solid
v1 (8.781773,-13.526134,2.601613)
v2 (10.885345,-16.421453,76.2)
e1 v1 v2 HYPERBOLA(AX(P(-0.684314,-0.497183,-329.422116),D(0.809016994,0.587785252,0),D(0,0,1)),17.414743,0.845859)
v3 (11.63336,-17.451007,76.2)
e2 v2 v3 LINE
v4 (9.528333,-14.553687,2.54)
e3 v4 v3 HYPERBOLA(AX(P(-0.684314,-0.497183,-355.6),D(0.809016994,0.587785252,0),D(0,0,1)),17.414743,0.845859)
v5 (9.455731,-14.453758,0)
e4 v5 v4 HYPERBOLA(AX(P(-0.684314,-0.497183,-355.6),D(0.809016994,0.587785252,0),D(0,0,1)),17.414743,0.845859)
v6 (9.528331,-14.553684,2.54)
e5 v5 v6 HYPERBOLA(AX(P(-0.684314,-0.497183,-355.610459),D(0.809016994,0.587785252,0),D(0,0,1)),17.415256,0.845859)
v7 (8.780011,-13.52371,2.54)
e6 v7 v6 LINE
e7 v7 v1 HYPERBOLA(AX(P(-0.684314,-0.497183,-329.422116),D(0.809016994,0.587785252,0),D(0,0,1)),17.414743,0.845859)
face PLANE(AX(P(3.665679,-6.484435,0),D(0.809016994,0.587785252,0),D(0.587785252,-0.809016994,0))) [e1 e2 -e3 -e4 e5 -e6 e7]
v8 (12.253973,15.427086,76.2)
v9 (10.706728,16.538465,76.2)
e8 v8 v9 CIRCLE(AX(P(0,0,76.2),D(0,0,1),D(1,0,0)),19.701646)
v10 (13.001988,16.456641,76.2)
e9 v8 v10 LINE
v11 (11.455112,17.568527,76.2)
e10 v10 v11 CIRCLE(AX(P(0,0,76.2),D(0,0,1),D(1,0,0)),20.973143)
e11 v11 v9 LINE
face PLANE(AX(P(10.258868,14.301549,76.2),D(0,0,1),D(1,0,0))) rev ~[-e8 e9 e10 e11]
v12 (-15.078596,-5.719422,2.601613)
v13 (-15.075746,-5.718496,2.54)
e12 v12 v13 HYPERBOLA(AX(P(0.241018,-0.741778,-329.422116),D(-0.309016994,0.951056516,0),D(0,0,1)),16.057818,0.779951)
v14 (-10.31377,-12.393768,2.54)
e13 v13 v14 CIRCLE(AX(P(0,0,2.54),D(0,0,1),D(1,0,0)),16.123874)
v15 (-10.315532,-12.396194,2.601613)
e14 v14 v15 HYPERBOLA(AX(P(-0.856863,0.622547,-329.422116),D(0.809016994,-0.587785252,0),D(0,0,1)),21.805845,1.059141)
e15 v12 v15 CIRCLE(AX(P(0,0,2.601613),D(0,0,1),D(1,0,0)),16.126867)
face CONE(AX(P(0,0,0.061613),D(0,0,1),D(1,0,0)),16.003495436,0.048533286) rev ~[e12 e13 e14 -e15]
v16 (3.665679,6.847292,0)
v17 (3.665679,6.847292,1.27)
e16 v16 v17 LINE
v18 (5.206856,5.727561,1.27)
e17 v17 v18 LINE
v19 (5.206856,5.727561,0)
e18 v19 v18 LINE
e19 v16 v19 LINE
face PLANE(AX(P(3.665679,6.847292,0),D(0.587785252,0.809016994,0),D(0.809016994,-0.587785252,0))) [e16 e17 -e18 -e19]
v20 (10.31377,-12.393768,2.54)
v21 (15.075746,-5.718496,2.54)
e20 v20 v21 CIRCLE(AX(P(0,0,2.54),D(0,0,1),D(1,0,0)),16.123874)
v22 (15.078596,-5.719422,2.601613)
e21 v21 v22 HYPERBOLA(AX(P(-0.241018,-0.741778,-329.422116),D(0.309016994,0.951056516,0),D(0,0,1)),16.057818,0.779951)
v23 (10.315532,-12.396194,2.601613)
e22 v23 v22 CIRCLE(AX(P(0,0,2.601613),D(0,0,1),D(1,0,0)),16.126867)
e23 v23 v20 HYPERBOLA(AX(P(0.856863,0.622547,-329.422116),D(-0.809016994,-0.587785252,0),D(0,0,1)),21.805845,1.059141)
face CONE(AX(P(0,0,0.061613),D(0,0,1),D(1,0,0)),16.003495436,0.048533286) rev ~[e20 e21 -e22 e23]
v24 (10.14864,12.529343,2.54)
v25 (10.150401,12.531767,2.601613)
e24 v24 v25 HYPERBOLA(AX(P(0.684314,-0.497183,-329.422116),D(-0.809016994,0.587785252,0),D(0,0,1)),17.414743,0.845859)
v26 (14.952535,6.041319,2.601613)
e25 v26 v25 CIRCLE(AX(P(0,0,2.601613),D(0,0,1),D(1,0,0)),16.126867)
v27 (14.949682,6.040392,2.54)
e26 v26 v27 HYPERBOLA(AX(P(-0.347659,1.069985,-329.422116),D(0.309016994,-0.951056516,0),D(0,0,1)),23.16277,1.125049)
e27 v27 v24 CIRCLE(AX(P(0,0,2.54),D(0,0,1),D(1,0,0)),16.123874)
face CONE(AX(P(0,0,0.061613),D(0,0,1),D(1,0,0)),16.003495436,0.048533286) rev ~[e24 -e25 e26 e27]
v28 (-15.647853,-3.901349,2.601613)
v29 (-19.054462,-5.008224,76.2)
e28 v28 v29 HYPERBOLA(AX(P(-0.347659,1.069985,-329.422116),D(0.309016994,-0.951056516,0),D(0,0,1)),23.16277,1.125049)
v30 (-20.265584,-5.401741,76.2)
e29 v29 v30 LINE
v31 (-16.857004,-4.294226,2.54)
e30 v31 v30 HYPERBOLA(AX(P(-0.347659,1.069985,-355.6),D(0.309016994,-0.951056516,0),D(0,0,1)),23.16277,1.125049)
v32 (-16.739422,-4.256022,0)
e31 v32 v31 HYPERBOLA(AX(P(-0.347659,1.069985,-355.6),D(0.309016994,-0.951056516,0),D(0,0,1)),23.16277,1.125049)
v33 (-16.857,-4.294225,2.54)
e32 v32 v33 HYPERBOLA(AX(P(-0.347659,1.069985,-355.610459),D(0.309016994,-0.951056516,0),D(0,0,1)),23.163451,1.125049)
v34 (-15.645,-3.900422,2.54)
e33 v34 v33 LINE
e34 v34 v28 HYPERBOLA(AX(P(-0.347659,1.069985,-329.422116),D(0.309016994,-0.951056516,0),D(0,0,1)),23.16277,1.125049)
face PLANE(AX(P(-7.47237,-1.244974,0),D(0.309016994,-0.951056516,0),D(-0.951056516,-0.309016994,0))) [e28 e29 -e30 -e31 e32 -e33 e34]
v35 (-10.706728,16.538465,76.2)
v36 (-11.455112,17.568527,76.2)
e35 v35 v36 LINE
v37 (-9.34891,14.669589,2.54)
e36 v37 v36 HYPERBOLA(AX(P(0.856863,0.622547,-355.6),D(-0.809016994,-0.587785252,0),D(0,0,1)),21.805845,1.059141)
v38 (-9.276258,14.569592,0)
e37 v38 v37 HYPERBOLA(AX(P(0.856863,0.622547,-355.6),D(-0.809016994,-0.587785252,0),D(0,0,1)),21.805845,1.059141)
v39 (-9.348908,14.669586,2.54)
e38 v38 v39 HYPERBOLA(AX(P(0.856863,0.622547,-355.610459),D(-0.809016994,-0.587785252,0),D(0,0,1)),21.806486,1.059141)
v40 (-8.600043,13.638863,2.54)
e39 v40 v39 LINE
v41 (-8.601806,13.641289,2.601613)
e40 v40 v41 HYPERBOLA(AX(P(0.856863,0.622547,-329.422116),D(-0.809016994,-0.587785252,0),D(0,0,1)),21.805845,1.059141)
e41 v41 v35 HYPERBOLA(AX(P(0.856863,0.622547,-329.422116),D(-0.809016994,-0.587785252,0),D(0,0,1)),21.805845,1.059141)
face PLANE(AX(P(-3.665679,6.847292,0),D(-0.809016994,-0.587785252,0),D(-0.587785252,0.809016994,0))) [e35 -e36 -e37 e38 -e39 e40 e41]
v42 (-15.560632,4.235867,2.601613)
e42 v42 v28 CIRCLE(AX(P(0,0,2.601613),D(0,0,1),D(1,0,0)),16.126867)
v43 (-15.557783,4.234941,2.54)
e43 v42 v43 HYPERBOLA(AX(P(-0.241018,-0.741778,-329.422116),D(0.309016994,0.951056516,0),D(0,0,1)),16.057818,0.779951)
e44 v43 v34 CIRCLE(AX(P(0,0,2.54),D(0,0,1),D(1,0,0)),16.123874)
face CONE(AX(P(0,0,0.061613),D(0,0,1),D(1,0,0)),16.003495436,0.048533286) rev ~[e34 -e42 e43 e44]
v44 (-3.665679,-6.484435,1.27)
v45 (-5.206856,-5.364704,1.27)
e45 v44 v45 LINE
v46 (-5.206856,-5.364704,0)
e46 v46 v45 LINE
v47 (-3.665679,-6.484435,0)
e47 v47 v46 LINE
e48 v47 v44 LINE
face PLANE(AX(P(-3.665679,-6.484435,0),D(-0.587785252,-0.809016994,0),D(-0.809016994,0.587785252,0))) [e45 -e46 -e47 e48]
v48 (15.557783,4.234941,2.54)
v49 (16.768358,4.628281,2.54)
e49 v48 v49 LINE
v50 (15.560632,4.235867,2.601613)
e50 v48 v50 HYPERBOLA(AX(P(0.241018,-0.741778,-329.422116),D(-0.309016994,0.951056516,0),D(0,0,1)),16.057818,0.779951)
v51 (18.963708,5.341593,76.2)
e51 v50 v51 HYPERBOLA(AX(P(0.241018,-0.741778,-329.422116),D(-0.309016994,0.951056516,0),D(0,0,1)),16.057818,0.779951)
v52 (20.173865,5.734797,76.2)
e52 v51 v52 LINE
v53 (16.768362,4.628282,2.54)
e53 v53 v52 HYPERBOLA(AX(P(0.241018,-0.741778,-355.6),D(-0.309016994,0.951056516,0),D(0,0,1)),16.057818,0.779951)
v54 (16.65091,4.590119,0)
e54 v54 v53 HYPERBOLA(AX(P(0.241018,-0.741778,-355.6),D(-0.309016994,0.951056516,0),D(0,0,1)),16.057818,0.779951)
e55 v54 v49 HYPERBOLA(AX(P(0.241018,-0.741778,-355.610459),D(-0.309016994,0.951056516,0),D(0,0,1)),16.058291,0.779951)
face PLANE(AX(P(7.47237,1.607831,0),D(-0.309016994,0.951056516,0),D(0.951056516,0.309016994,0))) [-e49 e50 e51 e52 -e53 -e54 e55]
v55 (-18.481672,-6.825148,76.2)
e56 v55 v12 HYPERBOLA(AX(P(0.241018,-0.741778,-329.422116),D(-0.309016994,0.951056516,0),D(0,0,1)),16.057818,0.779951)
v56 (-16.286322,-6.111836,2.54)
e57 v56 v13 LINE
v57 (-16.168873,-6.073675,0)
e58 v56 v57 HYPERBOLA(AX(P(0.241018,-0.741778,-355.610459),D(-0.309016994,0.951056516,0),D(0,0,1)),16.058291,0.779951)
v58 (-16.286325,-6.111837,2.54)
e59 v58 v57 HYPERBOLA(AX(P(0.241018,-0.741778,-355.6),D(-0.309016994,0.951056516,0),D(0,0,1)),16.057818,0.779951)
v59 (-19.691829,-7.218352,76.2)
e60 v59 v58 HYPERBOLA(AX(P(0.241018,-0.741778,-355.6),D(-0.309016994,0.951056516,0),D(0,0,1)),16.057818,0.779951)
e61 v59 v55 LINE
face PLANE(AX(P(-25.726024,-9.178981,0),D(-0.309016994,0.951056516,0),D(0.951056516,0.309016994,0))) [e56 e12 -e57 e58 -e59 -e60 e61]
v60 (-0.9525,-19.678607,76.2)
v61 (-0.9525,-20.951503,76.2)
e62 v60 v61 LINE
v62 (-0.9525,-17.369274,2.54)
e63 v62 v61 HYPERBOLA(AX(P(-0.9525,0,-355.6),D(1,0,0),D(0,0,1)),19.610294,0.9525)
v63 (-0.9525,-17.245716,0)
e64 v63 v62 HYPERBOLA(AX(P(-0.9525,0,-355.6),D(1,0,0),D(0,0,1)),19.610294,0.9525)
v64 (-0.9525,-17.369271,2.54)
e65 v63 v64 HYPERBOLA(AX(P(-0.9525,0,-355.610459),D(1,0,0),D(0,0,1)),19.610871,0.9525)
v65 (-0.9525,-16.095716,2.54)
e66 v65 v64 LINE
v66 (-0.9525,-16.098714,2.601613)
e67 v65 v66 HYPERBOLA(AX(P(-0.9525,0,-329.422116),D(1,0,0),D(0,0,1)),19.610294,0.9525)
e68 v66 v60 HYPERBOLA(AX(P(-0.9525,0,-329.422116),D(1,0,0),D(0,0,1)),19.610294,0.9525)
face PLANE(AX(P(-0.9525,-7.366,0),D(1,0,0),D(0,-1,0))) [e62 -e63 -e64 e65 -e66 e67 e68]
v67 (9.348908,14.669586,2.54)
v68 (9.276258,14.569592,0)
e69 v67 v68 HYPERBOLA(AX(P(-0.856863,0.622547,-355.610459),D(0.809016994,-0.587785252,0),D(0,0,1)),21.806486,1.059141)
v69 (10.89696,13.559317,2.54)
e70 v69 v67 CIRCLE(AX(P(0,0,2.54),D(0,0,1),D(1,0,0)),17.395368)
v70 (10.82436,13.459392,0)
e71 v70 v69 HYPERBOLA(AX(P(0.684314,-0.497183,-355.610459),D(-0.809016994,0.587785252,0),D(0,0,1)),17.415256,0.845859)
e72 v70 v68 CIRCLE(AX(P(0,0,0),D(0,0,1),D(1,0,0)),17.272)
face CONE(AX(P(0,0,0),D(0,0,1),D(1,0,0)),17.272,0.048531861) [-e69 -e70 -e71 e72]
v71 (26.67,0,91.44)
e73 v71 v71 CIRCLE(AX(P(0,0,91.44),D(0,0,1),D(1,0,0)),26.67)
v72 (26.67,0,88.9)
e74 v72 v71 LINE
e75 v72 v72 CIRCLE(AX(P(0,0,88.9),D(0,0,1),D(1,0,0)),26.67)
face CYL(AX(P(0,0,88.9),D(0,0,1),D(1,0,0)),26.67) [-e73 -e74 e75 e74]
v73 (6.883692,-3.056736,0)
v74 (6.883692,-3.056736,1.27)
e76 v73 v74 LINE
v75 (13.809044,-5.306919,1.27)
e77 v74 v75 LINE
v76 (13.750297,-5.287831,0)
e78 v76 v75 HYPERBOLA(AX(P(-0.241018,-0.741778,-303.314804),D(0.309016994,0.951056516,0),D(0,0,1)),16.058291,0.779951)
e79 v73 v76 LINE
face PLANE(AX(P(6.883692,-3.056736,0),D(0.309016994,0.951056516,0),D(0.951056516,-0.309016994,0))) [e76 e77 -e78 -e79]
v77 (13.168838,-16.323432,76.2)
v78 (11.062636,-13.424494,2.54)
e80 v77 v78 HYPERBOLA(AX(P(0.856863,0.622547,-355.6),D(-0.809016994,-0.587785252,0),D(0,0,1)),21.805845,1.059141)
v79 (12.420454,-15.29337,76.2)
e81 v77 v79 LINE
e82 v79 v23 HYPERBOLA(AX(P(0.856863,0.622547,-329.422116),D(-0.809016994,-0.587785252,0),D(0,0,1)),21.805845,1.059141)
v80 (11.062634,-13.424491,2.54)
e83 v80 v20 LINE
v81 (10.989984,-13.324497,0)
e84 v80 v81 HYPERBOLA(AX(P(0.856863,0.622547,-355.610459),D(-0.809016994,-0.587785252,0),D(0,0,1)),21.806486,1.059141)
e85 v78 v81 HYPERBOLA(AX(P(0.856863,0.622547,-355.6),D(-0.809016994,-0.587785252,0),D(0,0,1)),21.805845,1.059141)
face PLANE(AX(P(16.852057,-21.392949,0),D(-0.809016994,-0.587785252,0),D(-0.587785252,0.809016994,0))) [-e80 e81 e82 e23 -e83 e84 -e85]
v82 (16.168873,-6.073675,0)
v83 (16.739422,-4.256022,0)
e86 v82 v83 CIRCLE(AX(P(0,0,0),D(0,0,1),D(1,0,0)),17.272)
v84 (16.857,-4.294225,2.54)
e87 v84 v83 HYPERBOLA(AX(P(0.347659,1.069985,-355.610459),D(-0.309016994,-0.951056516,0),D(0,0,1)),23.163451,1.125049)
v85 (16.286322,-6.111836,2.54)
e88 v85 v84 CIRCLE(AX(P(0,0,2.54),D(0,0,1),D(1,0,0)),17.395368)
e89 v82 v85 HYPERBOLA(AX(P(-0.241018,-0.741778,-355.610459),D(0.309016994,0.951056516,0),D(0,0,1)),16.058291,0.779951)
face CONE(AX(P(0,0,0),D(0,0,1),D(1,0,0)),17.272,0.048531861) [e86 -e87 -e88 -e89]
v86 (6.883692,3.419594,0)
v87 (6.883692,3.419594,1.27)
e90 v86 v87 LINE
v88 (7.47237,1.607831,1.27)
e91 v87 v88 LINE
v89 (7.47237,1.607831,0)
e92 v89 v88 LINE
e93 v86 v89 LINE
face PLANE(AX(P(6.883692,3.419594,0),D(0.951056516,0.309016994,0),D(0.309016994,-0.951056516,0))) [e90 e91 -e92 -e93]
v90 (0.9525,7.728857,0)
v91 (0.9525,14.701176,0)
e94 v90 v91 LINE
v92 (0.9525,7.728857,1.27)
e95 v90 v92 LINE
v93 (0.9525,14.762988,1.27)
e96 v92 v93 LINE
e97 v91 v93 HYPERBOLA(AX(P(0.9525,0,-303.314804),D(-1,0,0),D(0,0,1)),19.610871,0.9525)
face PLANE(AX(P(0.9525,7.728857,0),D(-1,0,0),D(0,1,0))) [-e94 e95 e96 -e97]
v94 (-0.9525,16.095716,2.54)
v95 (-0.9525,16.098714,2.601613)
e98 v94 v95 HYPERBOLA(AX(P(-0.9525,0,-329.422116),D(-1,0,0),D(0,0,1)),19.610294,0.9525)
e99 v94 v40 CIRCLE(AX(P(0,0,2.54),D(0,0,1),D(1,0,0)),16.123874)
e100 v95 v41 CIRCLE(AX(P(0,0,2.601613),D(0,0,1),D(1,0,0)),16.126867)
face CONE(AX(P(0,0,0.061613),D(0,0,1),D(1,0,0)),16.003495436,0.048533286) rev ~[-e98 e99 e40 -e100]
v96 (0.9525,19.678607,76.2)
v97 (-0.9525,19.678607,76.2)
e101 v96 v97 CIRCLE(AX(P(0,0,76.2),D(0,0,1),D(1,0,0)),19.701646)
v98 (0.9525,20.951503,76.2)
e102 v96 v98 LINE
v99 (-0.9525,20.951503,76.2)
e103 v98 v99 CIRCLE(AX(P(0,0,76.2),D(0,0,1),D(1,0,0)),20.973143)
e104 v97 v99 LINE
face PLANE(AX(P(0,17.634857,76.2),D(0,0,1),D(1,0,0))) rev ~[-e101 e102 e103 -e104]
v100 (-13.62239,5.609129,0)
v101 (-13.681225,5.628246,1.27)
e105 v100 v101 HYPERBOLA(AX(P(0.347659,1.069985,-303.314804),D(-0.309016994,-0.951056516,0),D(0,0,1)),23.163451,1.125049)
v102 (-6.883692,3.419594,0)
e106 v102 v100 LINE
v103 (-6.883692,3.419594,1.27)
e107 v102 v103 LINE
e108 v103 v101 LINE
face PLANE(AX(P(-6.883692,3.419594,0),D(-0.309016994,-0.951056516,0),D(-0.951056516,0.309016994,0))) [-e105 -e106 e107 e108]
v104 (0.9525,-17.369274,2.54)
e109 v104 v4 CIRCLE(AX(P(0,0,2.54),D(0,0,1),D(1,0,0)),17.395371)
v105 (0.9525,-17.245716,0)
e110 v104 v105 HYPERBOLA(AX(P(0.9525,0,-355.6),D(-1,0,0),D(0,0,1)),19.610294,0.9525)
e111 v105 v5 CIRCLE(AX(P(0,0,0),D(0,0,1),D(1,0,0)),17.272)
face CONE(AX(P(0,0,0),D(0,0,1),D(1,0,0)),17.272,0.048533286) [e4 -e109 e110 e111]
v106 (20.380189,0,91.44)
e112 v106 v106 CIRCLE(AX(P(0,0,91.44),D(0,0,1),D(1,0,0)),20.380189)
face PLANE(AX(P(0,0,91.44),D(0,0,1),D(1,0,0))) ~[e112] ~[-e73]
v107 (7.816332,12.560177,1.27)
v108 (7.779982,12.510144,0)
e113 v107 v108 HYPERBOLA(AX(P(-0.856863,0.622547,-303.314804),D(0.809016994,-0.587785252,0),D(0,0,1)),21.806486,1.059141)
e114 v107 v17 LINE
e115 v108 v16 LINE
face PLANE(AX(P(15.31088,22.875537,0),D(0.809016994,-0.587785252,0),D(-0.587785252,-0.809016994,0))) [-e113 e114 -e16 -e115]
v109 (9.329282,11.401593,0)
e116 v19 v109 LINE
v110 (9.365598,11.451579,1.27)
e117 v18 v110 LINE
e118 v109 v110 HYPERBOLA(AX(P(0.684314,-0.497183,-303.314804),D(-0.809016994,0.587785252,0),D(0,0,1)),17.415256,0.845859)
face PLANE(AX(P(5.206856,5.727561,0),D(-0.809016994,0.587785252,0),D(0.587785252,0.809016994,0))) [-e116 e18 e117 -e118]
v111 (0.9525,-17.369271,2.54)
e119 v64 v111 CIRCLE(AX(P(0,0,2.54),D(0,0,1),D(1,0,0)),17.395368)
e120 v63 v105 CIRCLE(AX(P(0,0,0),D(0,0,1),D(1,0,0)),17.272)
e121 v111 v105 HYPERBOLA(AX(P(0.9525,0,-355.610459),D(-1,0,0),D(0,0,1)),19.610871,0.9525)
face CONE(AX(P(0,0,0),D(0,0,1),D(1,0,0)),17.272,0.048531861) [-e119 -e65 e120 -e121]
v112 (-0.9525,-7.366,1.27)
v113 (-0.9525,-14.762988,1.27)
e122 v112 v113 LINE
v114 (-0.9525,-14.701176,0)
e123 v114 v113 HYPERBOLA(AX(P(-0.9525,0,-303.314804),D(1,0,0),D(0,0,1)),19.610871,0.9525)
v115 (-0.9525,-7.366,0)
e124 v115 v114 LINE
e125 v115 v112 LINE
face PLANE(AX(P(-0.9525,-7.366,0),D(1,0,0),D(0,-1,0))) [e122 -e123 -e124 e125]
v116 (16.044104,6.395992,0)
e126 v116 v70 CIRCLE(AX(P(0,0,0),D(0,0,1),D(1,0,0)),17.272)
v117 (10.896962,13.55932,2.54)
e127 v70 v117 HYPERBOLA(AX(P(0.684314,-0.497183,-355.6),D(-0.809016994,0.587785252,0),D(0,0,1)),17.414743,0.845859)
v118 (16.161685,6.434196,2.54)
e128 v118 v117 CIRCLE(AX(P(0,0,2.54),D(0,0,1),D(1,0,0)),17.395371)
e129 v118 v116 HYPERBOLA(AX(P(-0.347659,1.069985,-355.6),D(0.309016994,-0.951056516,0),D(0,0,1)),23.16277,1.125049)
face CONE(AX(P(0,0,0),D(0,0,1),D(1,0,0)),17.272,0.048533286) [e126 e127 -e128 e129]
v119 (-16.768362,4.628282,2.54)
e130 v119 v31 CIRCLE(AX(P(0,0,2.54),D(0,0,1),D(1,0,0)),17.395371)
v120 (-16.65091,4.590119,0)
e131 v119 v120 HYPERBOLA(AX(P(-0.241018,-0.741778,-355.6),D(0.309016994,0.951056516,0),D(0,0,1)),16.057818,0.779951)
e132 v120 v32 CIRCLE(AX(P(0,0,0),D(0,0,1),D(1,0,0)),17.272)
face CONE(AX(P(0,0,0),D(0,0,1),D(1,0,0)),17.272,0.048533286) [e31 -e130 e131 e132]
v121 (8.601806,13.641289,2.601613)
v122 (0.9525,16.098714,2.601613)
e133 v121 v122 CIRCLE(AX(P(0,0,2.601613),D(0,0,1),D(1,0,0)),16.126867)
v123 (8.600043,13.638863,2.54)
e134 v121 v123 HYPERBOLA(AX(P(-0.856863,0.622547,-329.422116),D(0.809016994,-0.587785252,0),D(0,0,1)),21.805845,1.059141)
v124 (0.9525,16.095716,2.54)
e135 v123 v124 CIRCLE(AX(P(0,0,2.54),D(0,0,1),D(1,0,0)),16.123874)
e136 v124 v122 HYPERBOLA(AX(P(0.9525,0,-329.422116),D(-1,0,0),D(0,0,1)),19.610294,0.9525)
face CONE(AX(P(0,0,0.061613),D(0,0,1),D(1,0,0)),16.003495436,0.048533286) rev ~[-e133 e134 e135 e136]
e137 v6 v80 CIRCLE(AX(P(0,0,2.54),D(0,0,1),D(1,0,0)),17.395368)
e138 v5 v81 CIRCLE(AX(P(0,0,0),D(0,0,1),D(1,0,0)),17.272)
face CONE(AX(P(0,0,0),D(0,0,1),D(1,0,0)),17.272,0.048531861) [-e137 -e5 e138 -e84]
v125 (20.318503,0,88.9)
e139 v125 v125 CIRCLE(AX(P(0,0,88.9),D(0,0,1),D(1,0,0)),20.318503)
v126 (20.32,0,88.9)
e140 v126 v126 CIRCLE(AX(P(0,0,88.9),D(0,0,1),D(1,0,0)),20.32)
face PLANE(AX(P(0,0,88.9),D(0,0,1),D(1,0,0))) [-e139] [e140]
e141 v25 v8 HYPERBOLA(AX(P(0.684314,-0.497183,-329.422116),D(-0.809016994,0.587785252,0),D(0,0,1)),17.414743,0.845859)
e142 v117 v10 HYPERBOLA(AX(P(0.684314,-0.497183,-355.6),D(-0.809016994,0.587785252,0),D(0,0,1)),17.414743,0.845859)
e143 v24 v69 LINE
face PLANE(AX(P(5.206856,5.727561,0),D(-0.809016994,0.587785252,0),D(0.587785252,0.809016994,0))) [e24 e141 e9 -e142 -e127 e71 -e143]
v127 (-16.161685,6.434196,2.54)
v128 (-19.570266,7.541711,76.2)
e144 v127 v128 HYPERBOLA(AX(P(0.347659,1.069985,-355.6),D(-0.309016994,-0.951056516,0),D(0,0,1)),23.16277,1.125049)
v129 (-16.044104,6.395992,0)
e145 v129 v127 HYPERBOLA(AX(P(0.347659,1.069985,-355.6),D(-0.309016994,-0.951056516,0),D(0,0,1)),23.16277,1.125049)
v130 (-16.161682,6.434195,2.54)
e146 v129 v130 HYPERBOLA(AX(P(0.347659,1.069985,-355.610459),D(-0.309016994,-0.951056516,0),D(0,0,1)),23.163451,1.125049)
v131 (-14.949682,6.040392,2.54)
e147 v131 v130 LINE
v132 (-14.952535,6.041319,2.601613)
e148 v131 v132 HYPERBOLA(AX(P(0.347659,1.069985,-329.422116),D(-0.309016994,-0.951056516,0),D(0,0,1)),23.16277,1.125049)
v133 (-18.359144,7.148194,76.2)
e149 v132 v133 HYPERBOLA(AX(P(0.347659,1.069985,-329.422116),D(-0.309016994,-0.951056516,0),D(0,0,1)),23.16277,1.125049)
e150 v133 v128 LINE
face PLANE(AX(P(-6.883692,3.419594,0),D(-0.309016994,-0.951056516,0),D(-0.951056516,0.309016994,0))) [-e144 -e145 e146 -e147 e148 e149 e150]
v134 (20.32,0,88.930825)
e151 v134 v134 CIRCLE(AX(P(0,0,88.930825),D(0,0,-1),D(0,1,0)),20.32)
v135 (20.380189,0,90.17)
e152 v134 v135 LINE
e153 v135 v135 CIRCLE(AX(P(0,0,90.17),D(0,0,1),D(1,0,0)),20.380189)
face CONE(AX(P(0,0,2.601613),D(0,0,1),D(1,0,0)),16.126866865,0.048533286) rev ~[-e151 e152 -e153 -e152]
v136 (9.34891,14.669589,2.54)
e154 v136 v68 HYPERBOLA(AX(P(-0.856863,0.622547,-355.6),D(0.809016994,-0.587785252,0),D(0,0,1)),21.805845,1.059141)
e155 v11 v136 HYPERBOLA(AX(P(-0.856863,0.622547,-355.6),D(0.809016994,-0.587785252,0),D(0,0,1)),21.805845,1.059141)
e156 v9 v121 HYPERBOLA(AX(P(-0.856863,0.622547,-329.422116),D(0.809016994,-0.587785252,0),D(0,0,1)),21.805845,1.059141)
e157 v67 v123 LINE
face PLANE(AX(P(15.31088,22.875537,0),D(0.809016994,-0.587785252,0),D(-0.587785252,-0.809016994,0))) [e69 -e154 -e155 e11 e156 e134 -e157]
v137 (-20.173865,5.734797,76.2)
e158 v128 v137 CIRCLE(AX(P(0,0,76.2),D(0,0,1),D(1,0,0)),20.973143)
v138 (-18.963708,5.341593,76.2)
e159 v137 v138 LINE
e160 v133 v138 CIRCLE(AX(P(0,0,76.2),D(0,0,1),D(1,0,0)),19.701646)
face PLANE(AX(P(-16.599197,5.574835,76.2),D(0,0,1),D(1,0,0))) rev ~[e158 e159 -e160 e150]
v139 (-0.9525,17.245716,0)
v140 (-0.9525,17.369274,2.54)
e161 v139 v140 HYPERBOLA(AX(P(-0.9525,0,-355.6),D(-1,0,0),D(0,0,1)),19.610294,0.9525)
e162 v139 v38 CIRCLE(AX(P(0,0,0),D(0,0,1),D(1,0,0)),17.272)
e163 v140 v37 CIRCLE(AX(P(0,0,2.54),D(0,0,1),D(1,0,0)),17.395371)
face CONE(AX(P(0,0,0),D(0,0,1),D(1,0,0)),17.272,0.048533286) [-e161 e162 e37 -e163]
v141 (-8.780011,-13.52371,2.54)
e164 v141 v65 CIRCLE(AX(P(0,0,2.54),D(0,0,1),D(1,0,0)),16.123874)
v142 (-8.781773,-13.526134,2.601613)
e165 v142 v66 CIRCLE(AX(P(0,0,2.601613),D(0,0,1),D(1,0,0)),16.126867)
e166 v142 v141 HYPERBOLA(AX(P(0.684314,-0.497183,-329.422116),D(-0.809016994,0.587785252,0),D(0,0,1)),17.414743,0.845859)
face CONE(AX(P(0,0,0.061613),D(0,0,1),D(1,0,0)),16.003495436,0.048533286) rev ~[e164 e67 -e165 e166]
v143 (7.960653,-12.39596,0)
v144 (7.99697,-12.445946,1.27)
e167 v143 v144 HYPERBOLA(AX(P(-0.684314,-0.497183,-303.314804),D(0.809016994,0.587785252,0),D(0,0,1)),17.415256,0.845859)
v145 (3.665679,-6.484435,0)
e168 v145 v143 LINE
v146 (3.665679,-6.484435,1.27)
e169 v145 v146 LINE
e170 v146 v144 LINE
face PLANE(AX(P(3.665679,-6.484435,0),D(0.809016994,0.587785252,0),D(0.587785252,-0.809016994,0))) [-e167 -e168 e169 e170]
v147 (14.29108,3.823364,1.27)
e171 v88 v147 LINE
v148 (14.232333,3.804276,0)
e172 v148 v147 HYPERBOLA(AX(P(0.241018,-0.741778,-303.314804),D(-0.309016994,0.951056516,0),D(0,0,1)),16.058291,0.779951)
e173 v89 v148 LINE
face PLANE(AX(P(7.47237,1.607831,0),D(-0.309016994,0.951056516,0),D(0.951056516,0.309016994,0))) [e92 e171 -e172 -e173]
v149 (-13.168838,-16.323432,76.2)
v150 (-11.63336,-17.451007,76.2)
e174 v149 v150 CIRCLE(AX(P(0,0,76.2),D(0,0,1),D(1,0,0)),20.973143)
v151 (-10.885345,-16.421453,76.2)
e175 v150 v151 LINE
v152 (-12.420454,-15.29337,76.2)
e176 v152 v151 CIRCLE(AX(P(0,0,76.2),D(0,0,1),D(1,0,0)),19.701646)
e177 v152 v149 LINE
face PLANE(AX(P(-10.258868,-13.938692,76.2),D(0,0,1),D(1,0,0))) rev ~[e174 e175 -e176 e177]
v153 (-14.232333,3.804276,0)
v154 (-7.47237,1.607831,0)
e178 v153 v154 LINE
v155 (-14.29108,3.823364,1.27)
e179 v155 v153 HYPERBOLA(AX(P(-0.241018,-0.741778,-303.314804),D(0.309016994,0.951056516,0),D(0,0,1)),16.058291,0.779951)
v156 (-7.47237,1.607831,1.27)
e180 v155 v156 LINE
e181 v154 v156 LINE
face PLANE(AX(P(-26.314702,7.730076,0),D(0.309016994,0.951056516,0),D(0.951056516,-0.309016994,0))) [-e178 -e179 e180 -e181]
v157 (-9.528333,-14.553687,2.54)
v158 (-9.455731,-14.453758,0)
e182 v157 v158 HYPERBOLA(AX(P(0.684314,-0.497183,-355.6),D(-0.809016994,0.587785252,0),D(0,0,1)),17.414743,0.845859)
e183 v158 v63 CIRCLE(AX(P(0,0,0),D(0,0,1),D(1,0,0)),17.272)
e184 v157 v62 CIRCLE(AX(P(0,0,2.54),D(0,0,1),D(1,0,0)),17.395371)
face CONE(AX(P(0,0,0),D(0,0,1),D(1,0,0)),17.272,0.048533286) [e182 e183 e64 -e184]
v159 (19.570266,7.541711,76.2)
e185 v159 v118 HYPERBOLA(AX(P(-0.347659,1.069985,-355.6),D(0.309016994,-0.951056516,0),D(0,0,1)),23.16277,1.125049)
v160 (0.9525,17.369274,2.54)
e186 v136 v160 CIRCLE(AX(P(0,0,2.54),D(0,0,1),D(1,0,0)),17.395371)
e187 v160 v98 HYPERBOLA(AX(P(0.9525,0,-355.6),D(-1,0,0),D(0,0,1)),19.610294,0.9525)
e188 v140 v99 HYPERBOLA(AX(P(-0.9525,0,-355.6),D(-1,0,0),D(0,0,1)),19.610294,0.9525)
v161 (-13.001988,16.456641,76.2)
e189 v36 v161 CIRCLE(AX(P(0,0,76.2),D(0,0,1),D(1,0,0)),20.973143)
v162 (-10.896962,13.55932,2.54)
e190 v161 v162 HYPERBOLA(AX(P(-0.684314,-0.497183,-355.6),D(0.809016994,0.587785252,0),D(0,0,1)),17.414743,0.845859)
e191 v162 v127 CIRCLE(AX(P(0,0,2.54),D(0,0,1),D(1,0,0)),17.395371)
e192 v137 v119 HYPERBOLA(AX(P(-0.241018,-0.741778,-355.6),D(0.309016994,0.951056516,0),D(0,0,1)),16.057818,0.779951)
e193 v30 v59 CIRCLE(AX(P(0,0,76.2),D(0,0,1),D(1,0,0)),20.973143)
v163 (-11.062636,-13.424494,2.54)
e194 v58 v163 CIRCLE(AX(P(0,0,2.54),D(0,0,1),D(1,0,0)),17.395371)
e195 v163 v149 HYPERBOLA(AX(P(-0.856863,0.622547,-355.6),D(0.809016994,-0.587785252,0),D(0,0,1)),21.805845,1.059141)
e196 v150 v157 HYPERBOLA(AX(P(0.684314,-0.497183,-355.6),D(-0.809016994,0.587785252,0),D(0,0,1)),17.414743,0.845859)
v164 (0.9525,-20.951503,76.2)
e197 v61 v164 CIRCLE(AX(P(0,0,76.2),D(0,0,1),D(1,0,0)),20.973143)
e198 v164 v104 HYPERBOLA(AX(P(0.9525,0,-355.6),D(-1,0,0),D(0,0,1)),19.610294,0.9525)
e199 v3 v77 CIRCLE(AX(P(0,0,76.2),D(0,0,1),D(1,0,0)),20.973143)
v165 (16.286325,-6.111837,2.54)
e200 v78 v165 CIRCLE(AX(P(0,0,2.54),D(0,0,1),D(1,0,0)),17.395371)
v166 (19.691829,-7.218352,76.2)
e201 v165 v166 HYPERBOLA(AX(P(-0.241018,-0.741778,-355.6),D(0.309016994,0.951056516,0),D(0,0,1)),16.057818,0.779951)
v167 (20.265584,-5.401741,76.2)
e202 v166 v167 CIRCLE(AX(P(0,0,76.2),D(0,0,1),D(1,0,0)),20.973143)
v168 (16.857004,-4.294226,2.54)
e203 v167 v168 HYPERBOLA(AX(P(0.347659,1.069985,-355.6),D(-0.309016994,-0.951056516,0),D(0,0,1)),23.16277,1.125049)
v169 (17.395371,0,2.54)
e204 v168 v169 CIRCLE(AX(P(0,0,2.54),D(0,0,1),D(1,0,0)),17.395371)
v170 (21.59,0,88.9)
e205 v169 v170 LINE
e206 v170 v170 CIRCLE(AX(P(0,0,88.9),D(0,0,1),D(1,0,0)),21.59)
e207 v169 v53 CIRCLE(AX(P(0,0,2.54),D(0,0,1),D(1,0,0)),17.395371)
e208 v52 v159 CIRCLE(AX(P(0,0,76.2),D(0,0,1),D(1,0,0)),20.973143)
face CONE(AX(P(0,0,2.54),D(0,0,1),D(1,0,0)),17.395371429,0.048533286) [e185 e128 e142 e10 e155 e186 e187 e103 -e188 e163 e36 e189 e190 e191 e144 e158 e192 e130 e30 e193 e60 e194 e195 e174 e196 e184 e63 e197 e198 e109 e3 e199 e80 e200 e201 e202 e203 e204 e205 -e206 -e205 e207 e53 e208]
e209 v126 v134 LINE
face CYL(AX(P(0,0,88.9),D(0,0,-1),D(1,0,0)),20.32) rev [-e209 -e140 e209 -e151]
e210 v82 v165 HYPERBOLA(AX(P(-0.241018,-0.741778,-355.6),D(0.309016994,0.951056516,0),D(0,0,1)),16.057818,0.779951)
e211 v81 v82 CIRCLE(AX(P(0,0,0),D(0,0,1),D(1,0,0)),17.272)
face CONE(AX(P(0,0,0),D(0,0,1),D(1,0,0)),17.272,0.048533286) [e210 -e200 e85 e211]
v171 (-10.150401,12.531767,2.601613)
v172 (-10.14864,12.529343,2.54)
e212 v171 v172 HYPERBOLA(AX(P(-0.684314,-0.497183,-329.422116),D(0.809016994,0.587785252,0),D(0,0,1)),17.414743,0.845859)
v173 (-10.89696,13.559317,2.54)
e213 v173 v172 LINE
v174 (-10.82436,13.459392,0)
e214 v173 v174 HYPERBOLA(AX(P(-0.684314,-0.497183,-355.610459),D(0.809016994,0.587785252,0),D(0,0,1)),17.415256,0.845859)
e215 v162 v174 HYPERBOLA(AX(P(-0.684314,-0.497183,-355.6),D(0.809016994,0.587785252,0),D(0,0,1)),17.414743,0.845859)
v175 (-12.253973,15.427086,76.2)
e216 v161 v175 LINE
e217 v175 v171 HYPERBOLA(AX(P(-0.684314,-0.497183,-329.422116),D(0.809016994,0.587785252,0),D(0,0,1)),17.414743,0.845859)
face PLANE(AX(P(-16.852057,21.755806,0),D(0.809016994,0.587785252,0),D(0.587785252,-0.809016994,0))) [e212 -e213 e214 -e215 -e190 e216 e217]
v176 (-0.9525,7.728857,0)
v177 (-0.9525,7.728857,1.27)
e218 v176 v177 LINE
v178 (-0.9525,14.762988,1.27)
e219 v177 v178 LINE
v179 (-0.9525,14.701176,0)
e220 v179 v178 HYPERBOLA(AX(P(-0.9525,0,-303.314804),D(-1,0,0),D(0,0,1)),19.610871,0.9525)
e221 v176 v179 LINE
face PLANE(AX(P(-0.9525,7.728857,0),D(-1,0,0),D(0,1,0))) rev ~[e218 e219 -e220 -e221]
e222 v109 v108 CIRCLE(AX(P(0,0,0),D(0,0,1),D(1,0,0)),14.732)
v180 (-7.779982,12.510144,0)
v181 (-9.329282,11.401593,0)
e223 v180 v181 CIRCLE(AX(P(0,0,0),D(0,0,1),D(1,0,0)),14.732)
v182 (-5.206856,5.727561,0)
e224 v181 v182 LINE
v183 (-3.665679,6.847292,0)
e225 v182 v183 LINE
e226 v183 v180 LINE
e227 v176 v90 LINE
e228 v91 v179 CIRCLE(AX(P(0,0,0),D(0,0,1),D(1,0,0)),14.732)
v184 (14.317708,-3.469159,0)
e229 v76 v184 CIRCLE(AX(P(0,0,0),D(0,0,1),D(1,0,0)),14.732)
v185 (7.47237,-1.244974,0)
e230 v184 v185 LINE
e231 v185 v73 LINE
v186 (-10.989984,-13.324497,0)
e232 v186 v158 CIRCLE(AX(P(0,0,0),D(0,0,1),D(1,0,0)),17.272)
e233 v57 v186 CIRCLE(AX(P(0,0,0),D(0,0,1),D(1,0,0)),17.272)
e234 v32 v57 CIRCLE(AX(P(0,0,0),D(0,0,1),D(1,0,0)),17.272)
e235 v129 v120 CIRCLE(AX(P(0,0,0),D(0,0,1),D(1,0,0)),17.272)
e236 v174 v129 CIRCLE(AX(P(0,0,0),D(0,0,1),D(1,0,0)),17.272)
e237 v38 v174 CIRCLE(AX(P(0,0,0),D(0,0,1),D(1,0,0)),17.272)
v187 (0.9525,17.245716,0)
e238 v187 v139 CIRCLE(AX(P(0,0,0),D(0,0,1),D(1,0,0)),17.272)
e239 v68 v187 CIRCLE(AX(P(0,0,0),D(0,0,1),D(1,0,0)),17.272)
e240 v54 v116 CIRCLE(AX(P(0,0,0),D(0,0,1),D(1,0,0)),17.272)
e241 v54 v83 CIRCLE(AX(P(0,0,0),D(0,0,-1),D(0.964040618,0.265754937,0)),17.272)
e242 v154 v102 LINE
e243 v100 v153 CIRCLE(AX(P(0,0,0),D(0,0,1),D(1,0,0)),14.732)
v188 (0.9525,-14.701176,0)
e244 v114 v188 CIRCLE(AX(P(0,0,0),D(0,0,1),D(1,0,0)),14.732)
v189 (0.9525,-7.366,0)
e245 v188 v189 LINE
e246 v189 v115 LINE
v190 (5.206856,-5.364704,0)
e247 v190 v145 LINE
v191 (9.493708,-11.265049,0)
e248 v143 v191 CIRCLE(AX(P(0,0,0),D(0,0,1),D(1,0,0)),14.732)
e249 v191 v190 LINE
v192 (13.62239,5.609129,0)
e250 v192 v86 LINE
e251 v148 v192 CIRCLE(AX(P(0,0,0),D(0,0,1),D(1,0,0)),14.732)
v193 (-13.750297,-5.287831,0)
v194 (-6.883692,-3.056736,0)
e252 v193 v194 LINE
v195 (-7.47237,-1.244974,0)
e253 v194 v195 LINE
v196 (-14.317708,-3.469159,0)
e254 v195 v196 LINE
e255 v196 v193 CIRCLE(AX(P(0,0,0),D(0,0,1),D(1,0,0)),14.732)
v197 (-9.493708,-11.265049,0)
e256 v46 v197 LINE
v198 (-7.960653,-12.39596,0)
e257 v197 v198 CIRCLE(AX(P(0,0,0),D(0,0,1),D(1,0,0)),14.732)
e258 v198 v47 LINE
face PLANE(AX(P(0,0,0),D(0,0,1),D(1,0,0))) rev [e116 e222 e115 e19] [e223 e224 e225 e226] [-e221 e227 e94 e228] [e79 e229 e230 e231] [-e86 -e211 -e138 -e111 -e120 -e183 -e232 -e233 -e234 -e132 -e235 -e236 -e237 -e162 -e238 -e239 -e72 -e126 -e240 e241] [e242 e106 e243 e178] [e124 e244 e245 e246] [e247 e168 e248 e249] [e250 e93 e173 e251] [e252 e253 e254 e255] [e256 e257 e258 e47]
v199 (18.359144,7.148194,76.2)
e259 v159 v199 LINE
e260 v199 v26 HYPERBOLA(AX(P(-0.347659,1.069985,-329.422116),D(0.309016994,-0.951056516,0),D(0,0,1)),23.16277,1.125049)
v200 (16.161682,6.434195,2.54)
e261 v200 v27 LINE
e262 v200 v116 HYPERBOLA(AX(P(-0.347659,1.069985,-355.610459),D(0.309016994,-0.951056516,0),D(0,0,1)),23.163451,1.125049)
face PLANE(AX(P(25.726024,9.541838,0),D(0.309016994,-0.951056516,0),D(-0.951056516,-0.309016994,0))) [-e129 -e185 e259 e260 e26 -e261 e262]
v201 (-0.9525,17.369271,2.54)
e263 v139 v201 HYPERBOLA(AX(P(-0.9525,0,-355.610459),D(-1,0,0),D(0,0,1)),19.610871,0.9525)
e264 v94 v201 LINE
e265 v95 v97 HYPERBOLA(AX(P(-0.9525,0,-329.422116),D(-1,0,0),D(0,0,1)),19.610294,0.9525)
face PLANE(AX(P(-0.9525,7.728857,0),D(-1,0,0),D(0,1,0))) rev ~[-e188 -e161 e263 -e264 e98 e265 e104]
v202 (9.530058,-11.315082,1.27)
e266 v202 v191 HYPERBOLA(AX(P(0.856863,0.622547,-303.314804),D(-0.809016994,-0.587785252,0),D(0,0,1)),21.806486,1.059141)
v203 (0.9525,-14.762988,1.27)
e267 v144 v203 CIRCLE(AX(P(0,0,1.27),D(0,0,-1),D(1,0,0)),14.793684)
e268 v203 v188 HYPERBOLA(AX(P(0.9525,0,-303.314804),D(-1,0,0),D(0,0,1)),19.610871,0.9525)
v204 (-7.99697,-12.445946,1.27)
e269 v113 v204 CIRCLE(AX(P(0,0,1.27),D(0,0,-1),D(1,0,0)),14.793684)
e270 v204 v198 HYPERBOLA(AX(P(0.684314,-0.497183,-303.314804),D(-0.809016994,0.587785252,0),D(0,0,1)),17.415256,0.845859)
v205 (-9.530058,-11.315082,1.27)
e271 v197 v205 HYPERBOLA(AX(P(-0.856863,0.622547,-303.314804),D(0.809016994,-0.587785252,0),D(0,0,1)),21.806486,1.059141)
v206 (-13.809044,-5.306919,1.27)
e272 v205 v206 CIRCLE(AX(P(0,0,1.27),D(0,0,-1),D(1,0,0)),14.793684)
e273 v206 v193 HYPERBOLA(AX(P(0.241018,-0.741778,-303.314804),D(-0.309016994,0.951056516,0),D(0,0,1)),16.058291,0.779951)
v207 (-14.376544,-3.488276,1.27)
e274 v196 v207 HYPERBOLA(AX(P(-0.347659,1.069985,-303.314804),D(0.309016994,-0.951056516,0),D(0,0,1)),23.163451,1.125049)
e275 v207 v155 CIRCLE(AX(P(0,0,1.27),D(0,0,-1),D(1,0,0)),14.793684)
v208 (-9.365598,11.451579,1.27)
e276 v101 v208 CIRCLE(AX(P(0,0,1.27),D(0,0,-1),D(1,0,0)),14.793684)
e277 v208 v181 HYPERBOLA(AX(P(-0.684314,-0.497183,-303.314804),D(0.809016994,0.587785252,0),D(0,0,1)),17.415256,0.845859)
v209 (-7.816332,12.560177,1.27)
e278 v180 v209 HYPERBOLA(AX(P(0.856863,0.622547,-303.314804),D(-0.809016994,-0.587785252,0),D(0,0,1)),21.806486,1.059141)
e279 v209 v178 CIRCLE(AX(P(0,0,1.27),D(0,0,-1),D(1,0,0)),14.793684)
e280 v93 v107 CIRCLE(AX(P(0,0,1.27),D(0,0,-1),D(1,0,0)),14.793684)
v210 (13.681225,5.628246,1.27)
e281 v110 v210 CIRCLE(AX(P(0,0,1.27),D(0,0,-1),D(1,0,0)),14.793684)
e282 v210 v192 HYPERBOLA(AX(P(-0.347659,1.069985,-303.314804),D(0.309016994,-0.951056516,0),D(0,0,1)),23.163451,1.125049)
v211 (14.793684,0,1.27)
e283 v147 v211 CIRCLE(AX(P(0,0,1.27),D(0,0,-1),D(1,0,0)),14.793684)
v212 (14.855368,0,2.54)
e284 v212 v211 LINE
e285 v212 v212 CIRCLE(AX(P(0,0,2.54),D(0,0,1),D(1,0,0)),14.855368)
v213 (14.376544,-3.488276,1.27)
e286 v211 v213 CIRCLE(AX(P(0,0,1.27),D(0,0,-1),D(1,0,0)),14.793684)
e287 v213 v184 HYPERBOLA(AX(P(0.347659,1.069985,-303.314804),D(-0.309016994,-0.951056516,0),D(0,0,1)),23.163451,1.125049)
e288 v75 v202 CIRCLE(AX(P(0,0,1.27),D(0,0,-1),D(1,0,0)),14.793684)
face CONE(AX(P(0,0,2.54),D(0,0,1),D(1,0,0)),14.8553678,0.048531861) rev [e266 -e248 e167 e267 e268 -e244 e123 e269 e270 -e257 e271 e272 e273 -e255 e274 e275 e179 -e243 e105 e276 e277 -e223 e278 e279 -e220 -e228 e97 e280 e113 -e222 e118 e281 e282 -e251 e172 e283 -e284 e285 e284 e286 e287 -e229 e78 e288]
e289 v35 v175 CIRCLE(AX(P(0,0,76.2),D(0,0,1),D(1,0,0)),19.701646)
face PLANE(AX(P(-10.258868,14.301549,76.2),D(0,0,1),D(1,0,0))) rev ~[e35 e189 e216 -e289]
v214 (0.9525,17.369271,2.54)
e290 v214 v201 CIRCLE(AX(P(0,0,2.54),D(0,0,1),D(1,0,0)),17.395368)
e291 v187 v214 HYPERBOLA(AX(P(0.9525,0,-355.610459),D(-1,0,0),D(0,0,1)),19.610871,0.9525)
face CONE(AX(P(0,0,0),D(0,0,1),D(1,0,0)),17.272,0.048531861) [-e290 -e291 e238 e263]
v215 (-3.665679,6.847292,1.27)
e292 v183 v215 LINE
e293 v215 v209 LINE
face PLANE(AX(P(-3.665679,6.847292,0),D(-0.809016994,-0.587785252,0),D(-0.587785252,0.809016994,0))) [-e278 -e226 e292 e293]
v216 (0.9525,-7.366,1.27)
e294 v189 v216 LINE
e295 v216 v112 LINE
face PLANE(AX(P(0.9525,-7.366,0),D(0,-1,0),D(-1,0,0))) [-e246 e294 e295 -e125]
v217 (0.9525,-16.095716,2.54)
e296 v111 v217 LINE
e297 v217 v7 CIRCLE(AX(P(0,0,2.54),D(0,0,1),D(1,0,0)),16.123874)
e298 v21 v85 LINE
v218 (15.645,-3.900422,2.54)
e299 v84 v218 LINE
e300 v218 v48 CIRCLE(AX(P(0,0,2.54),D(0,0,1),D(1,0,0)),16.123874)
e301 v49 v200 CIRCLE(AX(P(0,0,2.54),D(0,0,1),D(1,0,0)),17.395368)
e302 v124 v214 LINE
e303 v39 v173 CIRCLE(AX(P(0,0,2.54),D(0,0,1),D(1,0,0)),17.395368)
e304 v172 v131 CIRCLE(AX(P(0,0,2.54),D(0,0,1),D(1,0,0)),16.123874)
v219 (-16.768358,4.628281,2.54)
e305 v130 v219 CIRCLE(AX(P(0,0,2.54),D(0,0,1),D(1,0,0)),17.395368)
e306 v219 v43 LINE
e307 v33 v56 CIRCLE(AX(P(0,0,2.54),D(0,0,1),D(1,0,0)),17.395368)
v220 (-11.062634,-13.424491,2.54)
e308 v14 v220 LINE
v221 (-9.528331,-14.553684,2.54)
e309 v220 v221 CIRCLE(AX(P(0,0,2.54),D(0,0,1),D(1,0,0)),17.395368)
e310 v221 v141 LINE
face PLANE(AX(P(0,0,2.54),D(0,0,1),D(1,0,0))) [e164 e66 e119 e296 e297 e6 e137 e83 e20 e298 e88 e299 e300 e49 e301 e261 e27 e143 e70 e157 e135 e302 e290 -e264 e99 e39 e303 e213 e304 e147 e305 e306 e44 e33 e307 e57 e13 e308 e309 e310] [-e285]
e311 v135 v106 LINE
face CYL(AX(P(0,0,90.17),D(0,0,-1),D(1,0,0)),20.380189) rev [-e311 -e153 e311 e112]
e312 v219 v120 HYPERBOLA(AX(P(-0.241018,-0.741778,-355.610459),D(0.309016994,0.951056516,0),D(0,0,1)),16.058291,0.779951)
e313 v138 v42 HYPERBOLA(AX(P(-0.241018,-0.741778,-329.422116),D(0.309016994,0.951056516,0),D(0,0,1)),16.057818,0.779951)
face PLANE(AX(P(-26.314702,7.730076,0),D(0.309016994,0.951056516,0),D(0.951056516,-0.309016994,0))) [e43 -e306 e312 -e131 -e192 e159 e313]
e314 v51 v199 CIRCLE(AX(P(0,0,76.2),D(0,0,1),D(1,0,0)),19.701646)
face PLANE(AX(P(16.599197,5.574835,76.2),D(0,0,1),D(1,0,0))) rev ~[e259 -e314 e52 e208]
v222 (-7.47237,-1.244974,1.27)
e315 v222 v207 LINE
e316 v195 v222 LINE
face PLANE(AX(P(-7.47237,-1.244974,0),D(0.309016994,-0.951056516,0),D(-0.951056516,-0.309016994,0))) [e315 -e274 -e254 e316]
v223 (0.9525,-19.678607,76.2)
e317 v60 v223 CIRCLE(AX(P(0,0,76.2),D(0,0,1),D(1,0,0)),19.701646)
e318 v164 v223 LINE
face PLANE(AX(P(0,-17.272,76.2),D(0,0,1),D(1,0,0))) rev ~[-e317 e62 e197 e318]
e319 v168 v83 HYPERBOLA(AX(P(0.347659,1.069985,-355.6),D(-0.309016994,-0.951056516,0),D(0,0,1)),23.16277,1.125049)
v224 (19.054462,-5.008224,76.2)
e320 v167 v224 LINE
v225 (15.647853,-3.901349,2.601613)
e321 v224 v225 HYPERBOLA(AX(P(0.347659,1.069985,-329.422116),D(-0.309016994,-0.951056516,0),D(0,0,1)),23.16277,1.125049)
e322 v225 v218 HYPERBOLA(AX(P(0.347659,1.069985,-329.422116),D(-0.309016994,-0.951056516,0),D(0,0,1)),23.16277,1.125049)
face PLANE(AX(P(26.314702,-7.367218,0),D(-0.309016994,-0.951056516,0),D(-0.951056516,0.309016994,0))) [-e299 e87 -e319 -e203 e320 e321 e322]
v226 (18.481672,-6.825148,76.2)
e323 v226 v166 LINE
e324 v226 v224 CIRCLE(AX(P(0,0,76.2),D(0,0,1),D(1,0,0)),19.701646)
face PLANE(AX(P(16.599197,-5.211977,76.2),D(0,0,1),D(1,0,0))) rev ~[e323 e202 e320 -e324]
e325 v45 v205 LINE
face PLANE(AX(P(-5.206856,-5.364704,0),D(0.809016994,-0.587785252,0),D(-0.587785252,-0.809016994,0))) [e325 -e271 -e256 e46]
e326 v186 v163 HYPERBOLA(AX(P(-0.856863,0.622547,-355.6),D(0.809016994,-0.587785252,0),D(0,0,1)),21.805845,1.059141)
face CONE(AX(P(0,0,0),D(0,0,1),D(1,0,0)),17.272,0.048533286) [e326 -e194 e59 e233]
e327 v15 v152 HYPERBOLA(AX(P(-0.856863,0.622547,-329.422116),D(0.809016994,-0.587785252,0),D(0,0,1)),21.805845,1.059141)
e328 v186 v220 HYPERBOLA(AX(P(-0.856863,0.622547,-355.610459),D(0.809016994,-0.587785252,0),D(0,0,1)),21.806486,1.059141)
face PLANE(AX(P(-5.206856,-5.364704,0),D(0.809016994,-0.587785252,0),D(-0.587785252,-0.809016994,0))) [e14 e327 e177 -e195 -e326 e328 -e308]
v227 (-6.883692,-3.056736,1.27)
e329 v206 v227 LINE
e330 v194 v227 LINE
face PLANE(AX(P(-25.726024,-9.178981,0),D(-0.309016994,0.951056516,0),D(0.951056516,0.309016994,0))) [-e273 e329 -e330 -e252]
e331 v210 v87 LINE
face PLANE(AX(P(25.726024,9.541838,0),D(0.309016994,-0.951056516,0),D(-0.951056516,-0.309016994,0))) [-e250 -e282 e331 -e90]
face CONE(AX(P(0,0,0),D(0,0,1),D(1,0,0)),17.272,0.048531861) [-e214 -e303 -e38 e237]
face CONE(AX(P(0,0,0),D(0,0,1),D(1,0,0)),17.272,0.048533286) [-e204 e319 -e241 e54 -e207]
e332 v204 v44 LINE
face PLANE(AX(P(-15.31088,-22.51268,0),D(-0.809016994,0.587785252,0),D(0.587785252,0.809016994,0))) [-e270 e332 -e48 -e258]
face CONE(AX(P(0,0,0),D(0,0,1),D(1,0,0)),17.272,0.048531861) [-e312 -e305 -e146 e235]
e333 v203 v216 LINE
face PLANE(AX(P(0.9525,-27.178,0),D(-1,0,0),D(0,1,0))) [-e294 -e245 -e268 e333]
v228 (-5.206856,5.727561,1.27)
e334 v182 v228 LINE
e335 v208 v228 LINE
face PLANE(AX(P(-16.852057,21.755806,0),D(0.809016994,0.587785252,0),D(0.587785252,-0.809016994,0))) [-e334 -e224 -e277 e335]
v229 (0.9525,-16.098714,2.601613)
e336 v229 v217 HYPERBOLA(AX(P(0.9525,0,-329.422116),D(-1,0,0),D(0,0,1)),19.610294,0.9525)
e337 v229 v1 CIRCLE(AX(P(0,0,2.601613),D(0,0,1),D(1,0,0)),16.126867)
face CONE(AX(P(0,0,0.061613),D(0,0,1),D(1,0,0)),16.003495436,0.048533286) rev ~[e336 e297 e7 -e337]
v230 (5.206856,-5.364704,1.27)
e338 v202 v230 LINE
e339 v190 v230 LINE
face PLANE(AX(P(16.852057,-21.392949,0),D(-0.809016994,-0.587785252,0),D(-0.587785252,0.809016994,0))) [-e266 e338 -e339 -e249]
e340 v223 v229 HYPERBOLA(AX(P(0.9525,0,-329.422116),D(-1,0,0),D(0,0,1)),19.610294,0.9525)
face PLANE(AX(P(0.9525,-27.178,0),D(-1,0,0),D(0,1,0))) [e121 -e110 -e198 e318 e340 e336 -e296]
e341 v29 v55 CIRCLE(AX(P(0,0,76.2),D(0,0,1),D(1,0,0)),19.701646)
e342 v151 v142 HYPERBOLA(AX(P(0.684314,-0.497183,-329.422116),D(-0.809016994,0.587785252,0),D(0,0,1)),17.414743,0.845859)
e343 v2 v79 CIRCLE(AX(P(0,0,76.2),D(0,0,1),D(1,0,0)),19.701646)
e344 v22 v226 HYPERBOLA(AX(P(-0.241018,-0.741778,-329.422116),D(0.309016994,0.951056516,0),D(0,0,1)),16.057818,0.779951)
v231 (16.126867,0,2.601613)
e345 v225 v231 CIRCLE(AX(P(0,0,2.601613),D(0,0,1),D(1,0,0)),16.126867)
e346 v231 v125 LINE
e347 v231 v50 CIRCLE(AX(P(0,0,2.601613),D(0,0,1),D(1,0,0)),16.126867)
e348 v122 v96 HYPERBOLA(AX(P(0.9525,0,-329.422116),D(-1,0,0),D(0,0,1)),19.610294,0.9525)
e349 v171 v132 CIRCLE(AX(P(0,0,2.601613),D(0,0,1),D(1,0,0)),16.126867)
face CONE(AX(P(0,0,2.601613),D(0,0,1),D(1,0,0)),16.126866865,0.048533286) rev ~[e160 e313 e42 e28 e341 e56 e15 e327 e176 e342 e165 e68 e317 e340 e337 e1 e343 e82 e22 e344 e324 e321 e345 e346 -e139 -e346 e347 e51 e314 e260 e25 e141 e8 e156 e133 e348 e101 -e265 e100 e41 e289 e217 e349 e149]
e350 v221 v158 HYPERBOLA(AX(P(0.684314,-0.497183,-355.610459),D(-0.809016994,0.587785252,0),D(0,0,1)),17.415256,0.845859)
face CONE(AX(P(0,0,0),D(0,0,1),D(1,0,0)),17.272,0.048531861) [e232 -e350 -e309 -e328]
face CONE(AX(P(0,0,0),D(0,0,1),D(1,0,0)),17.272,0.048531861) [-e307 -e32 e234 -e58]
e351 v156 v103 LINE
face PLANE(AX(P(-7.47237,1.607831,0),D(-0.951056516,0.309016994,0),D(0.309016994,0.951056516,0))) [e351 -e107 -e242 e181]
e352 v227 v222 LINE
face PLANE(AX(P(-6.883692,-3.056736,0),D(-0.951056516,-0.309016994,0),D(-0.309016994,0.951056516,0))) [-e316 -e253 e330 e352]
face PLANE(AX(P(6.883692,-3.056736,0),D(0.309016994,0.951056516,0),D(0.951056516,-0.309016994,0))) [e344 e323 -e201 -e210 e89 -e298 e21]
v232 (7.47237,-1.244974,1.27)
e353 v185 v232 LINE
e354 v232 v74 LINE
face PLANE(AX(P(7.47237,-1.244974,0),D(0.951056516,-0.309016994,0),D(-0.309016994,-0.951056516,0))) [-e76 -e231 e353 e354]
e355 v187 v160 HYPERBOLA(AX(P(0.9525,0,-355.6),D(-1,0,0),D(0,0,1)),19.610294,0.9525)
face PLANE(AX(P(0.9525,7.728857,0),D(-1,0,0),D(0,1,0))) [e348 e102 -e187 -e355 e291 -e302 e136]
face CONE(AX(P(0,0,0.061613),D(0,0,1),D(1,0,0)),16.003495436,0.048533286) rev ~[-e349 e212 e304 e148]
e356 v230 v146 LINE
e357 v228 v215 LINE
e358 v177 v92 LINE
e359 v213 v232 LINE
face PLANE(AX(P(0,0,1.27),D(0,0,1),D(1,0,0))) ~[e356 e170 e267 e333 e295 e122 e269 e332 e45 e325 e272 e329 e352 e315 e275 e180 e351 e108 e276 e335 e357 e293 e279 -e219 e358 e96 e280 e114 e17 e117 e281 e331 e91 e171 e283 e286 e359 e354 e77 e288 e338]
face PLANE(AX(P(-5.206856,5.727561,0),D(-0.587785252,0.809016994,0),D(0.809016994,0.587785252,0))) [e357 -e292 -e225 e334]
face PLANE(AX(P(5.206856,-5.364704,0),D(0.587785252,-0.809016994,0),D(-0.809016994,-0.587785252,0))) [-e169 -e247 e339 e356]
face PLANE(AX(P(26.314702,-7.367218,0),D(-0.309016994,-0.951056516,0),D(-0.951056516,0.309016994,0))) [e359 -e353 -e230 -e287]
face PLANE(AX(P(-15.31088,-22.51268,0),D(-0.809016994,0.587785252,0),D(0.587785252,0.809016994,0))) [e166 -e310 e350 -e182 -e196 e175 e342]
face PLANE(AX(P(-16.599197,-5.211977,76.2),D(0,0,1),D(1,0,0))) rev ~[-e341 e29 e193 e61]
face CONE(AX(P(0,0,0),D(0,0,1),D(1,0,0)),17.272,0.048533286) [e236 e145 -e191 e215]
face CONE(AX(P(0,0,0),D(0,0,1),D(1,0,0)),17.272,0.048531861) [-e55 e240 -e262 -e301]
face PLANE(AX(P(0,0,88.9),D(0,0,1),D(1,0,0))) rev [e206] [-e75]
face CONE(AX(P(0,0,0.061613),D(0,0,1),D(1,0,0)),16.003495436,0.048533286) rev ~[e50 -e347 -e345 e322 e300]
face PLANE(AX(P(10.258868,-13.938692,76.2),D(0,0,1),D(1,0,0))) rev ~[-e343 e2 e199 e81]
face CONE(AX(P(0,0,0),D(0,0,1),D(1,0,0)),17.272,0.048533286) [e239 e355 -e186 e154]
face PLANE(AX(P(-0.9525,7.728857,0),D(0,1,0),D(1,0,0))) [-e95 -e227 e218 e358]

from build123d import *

# Parameters (mm, degrees)
F2_T     = -1.27
F3_DEPTH = 1.27
F5_R     = 20.32
F6_DEPTH = 25.4
F7_W     = 1.905
F7_H     = 19.812
F8_DEPTH = 76.2


with BuildPart() as f1:
    # F0 (on Front) → F1 (revolve)
    with BuildSketch(Plane.XZ):
        Polygon((0, 2.54), (0, 0), (14.732, 0), (17.272, 0), (17.3953714286, 2.54), align=None)
        Polygon((0, 88.9), (0, 2.54), (17.3953714286, 2.54), (21.59, 88.9), align=None)
        Polygon((0, 91.44), (0, 88.9), (21.59, 88.9), (26.67, 88.9), (26.67, 91.44), align=None)
    revolve(axis=Axis((0, 0, 44.45), (0, 0, 1)))

    # F2
    f2_openings = [f1.faces().sort_by_distance(p)[0] for p in [
        (0, 0, 91.44),
    ]]
    offset(amount=F2_T, openings=f2_openings, kind=Kind.INTERSECTION)

    # F3 (add): a face of the model
    f3_faces = [f1.faces().sort_by_distance(p)[0] for p in [
        (-24.6815795103, 0, 90.17),
    ]]
    extrude(f3_faces, amount=F3_DEPTH)

    # F5 (on offset) → F6 (cut)
    with BuildSketch(Plane.XY.offset(88.9)):
        Circle(F5_R)
    extrude(amount=F6_DEPTH, mode=Mode.SUBTRACT)

    # F7 (on Top) → F8 (cut)
    with BuildSketch(Plane.XY):
        Polygon((0.9525, -27.178), (0.9525, -7.366), (0, -7.366), (-0.9525, -7.366), (-0.9525, -27.178), align=None)
        Polygon((5.2068558942, -5.3647039539), (3.6656785199, -6.4844348595), (15.3108799383, -22.5126795521), (16.8520573126, -21.3929486464), align=None)
        Polygon((7.4723698113, -1.2449737892), (6.883692437, -3.0567364527), (25.7260241378, -9.1789811453), (26.3147015121, -7.3672184818), align=None)
        Polygon((6.883692437, 3.4195935956), (7.4723698113, 1.6078309321), (26.3147015121, 7.7300756246), (25.7260241378, 9.5418382882), align=None)
        Polygon((3.6656785199, 6.8472920024), (5.2068558942, 5.7275610967), (16.8520573126, 21.7558057893), (15.3108799383, 22.8755366949), align=None)
        with Locations((0, 17.6348571429)):
            Rectangle(F7_W, F7_H)
        Polygon((-5.2068558942, 5.7275610967), (-3.6656785199, 6.8472920024), (-15.3108799383, 22.8755366949), (-16.8520573126, 21.7558057893), align=None)
        Polygon((-7.4723698113, 1.6078309321), (-6.883692437, 3.4195935956), (-25.7260241378, 9.5418382882), (-26.3147015121, 7.7300756246), align=None)
        Polygon((-6.883692437, -3.0567364527), (-7.4723698113, -1.2449737892), (-26.3147015121, -7.3672184818), (-25.7260241378, -9.1789811453), align=None)
        Polygon((-3.6656785199, -6.4844348595), (-5.2068558942, -5.3647039539), (-16.8520573126, -21.3929486464), (-15.3108799383, -22.5126795521), align=None)
    extrude(amount=F8_DEPTH, mode=Mode.SUBTRACT)

    # F9 (on Front) → F10 (revolve)
    with BuildSketch(Plane.XZ):
        Polygon((14.8553677996, 2.54), (14.732, 0), (17.272, 0), (17.3953678, 2.54), align=None)
    revolve(axis=Axis((0, 0, 1.27), (0, 0, 1)))


solid = f1.part
